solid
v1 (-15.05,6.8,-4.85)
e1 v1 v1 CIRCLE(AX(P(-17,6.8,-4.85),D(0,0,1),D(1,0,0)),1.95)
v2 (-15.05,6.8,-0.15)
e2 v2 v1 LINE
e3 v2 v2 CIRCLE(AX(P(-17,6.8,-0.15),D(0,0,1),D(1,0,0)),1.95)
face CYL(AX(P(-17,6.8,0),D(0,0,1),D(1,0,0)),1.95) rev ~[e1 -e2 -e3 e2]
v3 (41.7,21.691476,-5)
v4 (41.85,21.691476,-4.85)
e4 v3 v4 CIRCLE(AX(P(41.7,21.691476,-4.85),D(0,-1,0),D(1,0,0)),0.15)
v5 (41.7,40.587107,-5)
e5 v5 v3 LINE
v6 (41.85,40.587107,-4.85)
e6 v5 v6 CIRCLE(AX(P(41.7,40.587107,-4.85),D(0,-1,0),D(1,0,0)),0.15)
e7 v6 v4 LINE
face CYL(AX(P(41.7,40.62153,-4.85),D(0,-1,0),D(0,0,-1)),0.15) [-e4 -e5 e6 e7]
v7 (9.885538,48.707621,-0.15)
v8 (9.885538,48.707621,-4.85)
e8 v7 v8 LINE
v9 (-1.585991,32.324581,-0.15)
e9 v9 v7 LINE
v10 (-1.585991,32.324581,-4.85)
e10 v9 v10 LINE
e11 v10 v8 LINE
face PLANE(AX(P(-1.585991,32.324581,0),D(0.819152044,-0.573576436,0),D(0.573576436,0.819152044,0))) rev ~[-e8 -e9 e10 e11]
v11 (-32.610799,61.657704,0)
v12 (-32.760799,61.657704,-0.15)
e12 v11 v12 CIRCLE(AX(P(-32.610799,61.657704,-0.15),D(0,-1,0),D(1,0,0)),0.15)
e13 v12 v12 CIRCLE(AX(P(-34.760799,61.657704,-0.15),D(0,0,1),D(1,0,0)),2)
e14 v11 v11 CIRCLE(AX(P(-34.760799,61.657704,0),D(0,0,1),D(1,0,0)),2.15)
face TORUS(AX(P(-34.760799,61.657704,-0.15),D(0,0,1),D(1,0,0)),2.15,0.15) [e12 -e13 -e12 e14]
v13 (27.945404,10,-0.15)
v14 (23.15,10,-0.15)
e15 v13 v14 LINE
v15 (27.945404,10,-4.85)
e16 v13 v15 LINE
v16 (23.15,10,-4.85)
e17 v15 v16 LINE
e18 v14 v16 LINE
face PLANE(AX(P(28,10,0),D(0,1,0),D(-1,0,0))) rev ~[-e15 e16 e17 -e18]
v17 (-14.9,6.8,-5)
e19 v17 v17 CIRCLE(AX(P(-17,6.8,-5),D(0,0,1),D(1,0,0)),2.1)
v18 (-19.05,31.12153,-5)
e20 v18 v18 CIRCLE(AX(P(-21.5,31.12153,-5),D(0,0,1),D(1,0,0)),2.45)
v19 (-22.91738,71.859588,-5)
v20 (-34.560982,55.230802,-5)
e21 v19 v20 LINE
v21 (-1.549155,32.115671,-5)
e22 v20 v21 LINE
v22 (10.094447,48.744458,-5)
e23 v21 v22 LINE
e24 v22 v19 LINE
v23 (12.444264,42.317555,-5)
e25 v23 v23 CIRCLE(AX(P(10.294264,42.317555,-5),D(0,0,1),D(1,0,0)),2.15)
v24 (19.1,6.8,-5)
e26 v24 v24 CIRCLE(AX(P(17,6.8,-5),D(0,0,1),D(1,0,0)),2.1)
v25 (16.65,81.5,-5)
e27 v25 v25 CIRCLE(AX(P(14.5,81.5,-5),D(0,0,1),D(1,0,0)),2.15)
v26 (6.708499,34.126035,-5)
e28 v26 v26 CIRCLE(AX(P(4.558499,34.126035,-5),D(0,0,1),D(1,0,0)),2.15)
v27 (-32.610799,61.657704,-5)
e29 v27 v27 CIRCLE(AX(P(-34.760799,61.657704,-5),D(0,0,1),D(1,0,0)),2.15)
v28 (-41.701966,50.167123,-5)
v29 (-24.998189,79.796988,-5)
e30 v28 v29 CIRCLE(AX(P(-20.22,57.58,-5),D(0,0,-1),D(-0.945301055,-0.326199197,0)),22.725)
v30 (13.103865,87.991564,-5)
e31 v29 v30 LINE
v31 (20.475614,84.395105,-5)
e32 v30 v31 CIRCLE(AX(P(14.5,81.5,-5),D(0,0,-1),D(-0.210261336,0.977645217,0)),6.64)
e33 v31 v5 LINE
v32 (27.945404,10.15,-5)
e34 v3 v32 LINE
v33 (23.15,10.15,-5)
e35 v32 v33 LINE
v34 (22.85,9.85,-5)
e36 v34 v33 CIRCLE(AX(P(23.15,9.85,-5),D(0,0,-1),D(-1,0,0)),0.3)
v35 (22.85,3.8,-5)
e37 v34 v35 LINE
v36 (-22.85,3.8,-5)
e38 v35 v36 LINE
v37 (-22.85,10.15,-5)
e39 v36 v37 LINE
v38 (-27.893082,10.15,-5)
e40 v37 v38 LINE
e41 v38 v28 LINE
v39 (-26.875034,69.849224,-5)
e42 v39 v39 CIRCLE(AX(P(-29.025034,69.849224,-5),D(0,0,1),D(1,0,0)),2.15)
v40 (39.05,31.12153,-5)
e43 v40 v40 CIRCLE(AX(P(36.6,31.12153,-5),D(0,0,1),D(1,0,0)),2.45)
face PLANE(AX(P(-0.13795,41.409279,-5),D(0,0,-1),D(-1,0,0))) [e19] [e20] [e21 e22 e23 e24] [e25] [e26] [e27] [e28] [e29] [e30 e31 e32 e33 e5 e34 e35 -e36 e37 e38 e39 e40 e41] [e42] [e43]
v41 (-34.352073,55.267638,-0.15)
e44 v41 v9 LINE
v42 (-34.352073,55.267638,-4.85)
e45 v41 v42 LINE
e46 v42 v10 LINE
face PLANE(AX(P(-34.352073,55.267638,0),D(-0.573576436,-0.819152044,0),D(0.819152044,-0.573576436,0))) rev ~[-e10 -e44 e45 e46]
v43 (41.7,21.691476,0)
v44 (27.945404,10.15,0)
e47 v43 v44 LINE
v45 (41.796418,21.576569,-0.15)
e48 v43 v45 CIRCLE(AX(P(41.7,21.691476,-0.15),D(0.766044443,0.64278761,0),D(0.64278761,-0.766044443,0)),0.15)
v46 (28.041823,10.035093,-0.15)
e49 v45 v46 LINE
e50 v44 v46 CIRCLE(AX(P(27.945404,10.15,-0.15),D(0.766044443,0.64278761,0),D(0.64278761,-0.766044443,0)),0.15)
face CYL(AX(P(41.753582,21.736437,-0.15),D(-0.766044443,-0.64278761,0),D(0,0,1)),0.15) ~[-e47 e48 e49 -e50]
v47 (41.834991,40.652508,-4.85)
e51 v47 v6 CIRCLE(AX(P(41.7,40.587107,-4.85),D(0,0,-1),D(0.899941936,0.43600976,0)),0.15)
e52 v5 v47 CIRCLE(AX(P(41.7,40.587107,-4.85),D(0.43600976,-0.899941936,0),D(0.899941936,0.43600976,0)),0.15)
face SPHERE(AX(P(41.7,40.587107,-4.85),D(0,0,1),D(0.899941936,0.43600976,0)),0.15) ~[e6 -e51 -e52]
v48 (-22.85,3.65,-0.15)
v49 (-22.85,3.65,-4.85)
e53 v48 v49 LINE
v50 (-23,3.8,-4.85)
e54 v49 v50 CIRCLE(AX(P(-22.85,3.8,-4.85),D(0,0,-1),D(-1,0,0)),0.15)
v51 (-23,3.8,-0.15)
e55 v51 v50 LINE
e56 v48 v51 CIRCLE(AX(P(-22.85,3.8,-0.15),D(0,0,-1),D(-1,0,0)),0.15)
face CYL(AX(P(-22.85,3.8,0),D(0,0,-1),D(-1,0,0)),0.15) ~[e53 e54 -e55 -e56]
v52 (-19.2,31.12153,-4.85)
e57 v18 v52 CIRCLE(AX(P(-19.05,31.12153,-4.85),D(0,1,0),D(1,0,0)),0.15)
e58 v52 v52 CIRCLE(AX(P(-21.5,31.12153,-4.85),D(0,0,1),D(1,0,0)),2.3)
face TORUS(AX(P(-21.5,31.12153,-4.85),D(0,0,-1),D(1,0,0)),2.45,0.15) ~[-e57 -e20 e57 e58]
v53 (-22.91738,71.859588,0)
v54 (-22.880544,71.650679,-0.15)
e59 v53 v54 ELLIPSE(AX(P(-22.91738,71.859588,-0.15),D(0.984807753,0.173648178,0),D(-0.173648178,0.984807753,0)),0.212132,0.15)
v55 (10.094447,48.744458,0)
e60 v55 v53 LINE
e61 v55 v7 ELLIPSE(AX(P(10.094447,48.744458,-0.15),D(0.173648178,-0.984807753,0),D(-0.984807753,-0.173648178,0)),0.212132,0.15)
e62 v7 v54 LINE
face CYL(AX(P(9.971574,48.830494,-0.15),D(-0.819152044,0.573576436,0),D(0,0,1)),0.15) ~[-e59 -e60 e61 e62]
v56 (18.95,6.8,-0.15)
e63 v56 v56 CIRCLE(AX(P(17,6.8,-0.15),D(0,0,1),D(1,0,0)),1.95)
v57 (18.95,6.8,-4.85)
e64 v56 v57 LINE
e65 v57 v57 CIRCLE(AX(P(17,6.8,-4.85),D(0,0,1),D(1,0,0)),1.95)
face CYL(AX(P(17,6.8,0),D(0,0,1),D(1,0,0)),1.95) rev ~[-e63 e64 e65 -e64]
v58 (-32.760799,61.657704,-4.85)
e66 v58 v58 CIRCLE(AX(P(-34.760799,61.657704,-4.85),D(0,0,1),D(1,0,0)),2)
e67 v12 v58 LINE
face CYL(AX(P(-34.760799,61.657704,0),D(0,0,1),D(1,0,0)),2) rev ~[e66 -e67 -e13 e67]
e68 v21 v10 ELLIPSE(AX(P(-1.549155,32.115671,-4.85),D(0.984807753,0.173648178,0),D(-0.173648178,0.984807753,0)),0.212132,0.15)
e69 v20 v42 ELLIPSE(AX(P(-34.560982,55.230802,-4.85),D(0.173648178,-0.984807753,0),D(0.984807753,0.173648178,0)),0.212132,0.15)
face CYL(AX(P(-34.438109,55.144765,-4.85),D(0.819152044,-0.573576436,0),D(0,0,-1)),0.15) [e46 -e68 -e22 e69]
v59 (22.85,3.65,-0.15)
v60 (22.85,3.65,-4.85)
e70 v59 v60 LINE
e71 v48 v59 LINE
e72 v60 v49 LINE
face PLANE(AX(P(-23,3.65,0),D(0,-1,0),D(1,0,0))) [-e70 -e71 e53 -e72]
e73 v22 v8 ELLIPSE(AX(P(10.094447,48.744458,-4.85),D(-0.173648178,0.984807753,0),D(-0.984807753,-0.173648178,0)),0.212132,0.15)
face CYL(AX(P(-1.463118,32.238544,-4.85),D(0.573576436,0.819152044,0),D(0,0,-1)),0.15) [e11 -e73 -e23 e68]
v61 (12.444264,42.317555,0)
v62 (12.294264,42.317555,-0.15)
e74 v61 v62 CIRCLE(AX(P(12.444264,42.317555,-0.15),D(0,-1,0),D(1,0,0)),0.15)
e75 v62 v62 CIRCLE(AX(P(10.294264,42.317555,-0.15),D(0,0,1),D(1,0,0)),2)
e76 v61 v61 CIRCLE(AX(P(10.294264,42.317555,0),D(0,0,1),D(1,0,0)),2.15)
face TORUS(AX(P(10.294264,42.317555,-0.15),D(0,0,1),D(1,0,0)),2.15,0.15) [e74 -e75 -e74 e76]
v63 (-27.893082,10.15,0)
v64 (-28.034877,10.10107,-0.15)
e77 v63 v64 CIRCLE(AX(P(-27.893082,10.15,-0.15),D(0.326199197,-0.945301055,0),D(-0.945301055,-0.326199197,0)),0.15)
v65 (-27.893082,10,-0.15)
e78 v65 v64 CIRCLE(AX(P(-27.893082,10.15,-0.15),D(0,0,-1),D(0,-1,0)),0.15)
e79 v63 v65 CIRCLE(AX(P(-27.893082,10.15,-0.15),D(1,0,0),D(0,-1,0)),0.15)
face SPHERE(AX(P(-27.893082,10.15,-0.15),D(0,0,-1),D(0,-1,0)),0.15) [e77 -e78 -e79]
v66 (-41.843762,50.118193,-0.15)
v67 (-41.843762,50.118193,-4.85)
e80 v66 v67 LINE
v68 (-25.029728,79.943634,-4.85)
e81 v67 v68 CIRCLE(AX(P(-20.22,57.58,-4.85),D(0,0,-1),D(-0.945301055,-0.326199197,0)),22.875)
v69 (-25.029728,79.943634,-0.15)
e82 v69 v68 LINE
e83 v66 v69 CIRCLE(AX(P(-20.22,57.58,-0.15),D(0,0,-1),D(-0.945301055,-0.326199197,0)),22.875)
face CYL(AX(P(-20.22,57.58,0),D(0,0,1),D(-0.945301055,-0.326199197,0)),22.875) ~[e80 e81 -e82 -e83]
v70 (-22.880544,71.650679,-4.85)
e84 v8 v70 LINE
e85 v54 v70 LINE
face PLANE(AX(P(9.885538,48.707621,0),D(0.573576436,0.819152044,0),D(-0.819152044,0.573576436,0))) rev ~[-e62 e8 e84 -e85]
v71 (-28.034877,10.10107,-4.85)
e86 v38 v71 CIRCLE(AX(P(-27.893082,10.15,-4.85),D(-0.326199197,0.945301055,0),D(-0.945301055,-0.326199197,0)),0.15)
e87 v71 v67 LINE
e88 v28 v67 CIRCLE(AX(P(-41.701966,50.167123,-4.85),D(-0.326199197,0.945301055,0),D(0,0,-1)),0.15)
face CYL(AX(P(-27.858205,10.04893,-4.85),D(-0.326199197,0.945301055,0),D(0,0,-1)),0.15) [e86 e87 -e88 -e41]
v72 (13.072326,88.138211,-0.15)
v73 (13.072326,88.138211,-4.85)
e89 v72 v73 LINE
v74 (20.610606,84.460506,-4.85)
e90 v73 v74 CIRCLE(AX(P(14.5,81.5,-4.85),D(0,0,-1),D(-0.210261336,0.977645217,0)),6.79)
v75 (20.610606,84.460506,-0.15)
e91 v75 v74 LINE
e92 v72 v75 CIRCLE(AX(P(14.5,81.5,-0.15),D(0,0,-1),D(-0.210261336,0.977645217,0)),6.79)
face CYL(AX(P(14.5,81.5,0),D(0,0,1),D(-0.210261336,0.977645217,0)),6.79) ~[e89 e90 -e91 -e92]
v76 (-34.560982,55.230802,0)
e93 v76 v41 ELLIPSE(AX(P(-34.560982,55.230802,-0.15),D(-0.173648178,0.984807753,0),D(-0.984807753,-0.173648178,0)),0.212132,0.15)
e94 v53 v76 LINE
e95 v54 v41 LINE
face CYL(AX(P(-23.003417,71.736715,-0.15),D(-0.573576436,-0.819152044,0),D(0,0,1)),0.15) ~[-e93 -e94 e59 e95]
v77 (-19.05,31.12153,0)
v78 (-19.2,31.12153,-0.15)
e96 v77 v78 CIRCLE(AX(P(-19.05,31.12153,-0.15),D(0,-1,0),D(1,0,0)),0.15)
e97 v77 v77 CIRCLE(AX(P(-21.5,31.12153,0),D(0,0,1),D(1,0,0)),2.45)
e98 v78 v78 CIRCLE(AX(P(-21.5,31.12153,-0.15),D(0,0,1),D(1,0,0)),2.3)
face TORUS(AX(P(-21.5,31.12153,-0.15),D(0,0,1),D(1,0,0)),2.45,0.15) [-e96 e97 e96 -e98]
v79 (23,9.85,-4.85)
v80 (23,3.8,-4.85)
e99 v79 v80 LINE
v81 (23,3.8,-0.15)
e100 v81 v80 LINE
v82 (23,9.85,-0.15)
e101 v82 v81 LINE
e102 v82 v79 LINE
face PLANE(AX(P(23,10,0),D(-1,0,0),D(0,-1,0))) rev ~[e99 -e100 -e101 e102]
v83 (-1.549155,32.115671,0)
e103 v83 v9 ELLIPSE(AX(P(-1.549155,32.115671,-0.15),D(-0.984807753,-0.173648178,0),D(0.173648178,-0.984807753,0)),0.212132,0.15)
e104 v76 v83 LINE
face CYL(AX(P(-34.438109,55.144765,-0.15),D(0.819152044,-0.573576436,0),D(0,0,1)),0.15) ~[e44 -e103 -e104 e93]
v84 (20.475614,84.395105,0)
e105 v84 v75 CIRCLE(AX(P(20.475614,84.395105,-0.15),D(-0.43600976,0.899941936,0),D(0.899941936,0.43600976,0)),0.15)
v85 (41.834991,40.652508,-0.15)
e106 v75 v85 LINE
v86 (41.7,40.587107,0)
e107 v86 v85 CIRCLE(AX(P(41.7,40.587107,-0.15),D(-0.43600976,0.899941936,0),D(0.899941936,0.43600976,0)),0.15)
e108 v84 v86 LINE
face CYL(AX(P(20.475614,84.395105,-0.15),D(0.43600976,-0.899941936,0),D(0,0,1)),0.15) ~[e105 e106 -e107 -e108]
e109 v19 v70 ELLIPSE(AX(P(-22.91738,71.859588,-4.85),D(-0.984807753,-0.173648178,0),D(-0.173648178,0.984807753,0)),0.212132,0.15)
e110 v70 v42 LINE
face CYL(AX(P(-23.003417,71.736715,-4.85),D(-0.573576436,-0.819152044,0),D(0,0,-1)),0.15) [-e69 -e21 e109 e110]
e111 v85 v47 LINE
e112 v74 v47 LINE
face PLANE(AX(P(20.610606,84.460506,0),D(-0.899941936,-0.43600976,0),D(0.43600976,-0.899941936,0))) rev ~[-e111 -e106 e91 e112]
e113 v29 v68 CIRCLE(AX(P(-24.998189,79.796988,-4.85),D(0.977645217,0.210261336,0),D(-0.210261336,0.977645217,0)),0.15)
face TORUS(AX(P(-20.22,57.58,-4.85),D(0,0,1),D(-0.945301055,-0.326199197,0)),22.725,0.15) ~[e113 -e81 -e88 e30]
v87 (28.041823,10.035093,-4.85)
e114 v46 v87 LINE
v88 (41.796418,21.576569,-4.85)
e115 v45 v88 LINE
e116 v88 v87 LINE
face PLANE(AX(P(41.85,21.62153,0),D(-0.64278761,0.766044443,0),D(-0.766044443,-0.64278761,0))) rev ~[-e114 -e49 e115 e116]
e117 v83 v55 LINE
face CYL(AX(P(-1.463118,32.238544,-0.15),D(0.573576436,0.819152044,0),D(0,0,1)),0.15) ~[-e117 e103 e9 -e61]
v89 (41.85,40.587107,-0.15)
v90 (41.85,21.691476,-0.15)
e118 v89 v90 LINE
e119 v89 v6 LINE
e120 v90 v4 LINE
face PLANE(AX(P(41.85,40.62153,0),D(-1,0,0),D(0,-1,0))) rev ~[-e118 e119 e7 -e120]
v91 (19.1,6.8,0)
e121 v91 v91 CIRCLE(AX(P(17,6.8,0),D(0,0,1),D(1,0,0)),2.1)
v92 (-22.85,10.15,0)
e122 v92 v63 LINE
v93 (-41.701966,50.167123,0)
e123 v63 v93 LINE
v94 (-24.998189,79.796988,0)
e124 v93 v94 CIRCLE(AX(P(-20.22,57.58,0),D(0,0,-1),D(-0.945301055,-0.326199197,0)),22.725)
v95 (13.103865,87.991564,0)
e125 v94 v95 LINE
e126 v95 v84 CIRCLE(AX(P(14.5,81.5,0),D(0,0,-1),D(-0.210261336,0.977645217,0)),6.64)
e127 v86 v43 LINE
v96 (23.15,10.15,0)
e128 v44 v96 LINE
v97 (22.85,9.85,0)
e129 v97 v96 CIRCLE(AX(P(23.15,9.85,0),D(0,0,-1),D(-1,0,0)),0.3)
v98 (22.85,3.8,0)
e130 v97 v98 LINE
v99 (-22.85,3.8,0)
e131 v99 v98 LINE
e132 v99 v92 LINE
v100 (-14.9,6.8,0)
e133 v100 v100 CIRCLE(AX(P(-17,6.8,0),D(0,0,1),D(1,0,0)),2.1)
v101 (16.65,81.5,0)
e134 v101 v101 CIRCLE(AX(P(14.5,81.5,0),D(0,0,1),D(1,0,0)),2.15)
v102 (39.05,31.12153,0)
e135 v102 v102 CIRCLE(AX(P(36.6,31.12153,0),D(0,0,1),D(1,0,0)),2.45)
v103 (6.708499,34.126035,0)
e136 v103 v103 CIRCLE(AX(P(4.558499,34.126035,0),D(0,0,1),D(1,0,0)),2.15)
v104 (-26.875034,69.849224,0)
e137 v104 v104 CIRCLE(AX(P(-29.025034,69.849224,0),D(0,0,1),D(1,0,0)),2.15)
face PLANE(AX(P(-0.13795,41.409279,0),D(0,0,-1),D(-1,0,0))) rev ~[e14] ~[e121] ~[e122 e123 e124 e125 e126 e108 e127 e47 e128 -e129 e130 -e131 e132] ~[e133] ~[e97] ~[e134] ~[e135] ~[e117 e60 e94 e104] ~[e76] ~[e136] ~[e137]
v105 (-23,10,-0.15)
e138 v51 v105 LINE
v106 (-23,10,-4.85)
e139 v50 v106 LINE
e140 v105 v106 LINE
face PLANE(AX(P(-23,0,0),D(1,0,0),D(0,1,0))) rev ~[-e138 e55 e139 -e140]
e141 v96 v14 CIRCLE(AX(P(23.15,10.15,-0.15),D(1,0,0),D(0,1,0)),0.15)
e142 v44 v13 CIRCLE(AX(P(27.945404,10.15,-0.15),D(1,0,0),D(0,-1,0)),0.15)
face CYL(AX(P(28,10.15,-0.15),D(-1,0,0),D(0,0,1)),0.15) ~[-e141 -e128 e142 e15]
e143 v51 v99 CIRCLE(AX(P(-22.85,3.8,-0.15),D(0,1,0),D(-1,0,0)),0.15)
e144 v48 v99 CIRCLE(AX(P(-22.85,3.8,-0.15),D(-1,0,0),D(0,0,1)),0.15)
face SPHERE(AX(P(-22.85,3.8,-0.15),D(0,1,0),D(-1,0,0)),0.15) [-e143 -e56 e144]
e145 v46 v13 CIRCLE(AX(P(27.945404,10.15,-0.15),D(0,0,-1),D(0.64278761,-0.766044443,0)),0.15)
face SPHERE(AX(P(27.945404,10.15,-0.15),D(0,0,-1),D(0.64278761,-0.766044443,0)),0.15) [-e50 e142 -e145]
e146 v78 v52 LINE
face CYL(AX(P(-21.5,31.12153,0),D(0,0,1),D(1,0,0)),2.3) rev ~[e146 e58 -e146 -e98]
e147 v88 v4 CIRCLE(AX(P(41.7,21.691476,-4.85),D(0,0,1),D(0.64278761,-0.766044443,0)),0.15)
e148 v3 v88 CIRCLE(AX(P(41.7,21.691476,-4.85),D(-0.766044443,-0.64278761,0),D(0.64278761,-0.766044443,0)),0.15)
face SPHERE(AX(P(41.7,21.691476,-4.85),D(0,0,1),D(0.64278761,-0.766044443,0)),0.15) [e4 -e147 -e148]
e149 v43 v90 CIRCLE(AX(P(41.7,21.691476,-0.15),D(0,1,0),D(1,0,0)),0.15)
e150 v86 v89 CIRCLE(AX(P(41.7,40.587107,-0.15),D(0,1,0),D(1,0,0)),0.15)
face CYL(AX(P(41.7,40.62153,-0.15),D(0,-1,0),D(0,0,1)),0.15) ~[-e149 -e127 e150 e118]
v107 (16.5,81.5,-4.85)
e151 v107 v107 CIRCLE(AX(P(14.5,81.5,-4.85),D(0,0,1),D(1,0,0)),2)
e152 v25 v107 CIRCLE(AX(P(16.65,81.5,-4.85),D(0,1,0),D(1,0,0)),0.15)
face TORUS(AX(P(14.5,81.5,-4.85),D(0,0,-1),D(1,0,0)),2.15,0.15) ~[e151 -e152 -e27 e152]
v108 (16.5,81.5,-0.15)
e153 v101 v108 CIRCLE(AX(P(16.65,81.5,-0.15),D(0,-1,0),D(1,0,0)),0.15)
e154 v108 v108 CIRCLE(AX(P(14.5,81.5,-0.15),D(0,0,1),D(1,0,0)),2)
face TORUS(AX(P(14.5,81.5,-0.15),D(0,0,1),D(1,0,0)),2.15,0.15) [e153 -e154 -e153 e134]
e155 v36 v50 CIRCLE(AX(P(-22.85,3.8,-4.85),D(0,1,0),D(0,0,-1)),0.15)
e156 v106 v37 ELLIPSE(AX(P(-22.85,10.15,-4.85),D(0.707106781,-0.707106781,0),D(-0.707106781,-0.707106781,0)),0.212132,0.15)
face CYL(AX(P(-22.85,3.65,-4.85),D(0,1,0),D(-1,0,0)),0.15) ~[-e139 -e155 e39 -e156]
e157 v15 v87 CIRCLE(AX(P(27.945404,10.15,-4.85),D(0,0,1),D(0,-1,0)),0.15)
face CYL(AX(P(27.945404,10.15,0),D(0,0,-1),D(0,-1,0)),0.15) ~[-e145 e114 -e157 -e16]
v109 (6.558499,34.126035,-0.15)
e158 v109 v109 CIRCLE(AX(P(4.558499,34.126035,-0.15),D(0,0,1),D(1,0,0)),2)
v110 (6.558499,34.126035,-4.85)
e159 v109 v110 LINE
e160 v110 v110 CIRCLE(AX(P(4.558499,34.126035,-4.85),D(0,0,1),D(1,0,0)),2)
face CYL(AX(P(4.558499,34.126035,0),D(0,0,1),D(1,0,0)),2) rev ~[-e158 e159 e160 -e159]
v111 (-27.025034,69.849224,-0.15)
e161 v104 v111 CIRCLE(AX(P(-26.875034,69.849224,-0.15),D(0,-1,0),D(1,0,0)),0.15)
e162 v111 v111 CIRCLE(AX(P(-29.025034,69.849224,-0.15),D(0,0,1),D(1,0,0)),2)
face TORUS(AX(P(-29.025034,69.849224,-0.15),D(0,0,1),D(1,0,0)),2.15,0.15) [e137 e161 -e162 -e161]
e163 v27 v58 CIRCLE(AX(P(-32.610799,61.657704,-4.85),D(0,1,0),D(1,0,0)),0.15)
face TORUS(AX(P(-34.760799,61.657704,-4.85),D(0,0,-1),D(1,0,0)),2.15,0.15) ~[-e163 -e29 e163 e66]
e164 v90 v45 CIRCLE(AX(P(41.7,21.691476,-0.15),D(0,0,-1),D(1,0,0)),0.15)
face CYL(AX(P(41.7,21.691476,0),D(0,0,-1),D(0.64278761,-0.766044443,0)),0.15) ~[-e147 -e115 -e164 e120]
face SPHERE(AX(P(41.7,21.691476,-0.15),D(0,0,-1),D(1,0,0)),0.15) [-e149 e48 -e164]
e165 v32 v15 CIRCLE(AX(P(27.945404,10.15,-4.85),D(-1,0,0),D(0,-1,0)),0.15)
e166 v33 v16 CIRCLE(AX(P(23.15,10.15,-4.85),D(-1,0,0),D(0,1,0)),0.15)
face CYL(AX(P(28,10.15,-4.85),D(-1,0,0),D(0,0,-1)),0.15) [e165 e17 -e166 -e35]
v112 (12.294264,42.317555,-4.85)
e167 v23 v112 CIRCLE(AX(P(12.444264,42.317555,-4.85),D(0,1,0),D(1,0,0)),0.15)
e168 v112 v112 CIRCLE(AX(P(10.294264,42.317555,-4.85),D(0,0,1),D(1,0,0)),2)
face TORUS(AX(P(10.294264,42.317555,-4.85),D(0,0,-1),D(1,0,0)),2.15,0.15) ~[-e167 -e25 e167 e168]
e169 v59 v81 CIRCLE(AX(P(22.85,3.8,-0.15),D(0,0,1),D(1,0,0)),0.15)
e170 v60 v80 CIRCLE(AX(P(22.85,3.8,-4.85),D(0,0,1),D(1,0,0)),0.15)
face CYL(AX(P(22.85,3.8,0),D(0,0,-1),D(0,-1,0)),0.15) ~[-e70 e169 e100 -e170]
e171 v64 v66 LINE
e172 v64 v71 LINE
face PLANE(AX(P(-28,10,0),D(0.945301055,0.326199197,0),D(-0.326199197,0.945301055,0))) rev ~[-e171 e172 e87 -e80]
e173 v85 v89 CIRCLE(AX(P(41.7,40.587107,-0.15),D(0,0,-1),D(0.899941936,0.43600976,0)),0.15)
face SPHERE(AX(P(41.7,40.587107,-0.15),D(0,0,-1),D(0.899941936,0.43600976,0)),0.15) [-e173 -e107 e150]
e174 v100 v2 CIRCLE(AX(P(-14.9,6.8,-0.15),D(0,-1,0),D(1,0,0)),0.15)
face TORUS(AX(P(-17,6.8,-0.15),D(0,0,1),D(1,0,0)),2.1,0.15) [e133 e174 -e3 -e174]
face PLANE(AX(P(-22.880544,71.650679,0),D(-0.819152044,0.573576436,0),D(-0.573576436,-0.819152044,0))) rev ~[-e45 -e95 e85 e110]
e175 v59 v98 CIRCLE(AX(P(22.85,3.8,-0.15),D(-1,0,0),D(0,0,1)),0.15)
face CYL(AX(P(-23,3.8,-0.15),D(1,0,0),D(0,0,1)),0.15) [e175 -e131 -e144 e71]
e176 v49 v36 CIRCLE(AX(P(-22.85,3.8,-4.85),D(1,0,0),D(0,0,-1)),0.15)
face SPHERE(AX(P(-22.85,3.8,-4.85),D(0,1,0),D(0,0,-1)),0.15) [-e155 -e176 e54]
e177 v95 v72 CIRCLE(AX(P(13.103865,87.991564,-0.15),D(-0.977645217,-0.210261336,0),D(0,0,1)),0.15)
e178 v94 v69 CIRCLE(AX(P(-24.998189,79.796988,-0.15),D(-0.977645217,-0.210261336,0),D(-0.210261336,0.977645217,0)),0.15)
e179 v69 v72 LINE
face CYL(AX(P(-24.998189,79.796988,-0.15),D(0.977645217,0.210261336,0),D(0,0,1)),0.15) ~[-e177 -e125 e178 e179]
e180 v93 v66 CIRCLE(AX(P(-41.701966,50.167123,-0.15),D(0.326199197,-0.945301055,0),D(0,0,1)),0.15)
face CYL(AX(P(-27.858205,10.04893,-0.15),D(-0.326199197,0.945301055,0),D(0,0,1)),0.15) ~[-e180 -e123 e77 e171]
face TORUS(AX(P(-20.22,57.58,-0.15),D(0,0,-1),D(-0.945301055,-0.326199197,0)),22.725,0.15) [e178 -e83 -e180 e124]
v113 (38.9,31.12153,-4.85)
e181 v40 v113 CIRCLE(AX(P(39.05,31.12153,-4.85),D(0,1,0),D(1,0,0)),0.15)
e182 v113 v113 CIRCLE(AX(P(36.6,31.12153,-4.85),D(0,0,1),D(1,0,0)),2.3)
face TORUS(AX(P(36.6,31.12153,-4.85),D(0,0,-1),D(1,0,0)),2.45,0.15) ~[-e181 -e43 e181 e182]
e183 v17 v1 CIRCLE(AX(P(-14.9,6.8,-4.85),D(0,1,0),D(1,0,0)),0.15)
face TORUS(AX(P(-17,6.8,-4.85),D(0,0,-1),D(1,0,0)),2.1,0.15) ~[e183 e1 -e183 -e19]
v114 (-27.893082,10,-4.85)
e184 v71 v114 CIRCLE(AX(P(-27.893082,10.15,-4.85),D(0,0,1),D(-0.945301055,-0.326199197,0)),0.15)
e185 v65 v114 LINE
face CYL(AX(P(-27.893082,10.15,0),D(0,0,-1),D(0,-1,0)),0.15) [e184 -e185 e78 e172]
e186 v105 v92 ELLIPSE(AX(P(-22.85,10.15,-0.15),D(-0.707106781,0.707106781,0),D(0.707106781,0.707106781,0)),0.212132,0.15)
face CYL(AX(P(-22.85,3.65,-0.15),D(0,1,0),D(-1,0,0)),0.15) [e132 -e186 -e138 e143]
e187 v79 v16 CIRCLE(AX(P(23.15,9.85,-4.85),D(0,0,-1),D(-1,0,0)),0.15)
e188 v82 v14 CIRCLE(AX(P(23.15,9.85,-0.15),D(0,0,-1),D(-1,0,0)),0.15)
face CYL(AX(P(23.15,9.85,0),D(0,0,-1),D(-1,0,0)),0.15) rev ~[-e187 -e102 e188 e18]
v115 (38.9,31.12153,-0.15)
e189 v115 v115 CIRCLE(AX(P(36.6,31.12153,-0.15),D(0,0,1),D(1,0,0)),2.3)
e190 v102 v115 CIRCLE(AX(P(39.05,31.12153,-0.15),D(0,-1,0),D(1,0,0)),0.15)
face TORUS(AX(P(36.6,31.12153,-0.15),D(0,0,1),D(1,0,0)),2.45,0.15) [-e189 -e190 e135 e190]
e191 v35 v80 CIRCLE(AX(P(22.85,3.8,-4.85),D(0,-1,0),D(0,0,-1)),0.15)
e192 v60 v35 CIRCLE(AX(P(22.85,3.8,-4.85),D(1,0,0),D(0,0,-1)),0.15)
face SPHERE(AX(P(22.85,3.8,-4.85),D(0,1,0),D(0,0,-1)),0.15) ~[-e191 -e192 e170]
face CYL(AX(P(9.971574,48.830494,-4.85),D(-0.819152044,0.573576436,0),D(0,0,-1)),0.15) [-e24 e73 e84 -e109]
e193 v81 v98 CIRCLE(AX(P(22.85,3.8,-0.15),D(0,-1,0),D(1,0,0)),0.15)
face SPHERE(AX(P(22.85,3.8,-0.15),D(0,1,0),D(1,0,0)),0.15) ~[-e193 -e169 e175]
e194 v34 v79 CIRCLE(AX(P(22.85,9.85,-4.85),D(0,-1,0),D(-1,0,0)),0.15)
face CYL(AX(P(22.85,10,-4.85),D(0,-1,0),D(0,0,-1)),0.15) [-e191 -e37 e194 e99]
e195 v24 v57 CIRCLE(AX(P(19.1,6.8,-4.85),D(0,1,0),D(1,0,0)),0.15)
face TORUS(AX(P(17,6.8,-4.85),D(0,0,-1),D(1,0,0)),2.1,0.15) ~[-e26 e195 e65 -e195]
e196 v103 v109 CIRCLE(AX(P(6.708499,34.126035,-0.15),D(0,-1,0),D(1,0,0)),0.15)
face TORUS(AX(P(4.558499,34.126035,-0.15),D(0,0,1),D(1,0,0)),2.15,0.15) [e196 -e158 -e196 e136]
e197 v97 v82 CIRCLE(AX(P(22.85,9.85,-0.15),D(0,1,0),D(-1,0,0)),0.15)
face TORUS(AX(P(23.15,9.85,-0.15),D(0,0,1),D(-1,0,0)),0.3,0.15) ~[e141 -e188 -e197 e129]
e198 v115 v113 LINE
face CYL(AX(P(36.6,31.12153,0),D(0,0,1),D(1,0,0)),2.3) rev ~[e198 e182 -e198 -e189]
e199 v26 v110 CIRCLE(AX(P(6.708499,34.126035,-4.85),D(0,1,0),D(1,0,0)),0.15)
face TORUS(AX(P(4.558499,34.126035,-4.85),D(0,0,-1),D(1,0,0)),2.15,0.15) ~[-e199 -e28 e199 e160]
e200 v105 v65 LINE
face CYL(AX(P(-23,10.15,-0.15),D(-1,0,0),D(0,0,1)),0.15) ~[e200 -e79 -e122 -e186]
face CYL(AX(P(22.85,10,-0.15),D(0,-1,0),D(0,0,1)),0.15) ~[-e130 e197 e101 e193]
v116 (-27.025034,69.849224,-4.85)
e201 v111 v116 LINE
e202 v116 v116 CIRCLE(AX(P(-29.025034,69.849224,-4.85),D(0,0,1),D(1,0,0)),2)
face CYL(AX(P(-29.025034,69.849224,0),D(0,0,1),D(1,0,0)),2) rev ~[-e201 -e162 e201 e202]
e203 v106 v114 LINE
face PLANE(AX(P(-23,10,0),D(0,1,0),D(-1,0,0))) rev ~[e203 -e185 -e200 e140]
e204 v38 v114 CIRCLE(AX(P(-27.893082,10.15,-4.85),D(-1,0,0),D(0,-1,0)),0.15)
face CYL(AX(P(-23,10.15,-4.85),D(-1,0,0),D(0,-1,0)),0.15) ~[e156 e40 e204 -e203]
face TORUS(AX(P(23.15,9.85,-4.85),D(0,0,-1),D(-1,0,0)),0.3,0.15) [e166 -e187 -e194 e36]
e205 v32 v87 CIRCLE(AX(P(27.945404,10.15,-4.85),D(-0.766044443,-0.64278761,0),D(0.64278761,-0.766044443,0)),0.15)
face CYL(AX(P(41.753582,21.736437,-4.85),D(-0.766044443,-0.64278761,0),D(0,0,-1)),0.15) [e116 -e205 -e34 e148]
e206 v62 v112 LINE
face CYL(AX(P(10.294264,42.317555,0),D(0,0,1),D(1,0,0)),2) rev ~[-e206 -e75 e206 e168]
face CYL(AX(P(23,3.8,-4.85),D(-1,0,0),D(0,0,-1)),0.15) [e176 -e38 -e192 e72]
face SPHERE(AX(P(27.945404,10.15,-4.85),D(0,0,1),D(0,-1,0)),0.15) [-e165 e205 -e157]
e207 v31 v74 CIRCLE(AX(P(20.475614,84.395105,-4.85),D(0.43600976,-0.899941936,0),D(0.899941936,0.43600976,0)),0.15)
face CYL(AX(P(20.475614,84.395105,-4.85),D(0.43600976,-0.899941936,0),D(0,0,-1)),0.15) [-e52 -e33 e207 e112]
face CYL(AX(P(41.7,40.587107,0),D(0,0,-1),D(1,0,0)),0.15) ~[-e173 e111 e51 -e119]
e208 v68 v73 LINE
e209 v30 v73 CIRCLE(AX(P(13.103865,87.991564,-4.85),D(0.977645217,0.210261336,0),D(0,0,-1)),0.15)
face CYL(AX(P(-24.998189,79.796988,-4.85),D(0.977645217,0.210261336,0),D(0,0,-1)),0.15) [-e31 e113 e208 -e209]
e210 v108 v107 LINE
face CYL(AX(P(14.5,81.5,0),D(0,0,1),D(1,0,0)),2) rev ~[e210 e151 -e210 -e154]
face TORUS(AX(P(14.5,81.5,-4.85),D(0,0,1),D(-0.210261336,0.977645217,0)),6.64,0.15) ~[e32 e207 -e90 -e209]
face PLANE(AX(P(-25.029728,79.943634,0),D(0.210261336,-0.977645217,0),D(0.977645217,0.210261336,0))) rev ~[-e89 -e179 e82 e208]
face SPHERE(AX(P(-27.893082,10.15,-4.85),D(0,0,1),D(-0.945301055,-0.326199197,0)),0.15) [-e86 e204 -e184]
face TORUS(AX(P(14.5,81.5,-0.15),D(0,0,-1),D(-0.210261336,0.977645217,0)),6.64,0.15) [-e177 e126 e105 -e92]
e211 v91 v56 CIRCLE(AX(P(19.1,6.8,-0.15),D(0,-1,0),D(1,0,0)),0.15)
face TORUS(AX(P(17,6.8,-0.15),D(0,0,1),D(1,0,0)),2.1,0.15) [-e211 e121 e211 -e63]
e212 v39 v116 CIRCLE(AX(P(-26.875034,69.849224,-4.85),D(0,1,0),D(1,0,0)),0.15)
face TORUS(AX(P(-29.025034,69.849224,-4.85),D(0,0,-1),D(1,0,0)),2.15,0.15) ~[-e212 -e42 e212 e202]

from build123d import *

# Parameters (mm, degrees)
SKETCH2_R           = 2
SKETCH2_R_2         = 2.3
SKETCH2_R_3         = 1.95
BOSS_EXTRUDE2_DEPTH = 5
SKETCH4_W           = 46
SKETCH4_H           = 3.65
CUT_EXTRUDE1_DEPTH  = 6
FILLET1_R           = 0.15


with BuildPart() as part:
    # Sketch2 → Boss-Extrude2 (new body)
    with BuildSketch(Plane.XY):
        with BuildLine():
            Line((-23, 0), (-23, 10))
            Line((-23, 10), (-28, 10))
            Line((-28, 10), (-41.843761624, 50.118193368))
            ThreePointArc((-41.843761624, 50.118193368), (-40.146654928, 68.813612437), (-25.029728066, 79.943634341))
            Line((-25.029728066, 79.943634341), (13.072325527, 88.138211024))
            ThreePointArc((13.072325527, 88.138211024), (17.477220077, 87.602479874), (20.610605748, 84.460506273))
            Line((20.610605748, 84.460506273), (41.85, 40.621529892))
            Line((41.85, 40.621529892), (41.85, 21.621529892))
            Line((41.85, 21.621529892), (28, 10))
            Line((28, 10), (23, 10))
            Line((23, 10), (23, 0))
            Line((23, 0), (-23, 0))
        make_face()
        with Locations((-29.025034449, 69.849224439)):
            Circle(SKETCH2_R, mode=Mode.SUBTRACT)
        with Locations((-34.760798813, 61.657703997)):
            Circle(SKETCH2_R, mode=Mode.SUBTRACT)
        with Locations((10.294263677, 42.317555495)):
            Circle(SKETCH2_R, mode=Mode.SUBTRACT)
        with Locations((4.558499313, 34.126035052)):
            Circle(SKETCH2_R, mode=Mode.SUBTRACT)
        with Locations((14.5, 81.5)):
            Circle(SKETCH2_R, mode=Mode.SUBTRACT)
        with Locations((36.6, 31.121529892)):
            Circle(SKETCH2_R_2, mode=Mode.SUBTRACT)
        with Locations((17, 6.8)):
            Circle(SKETCH2_R_3, mode=Mode.SUBTRACT)
        with Locations((-17, 6.8)):
            Circle(SKETCH2_R_3, mode=Mode.SUBTRACT)
        with Locations((-21.5, 31.121529892)):
            Circle(SKETCH2_R_2, mode=Mode.SUBTRACT)
        Polygon((-22.88054409, 71.650678915), (-34.352072817, 55.26763803), (-1.585991046, 32.324580576), (9.885537681, 48.707621461), align=None, mode=Mode.SUBTRACT)
    extrude(amount=-BOSS_EXTRUDE2_DEPTH)

    # Sketch4 → Cut-Extrude1 (cut, through all)
    with BuildSketch(Plane.XY):
        with Locations((0, 1.825)):
            Rectangle(SKETCH4_W, SKETCH4_H)
    extrude(amount=-CUT_EXTRUDE1_DEPTH, mode=Mode.SUBTRACT)

    # Fillet1
    fillet1_edges = [part.edges().sort_by_distance(p)[0] for p in [
        (-23, 6.825, 0),
        (-25.5, 10, 0),
        (25.5, 10, -5),
        (-34.921880812, 30.059096684, 0),
        (-40.146654928, 68.813612437, 0),
        (-5.978701269, 84.040922682, 0),
        (17.477220077, 87.602479874, 0),
        (31.230302874, 62.541018083, 0),
        (41.85, 31.121529892, 0),
        (34.925, 15.810764946, 0),
        (25.5, 10, 0),
        (34.925, 15.810764946, -5),
        (-28, 10, -2.5),
        (41.85, 31.121529892, -5),
        (41.85, 40.621529892, -2.5),
        (41.85, 21.621529892, -2.5),
        (28, 10, -2.5),
        (23, 10, -2.5),
        (31.230302874, 62.541018083, -5),
        (17.477220077, 87.602479874, -5),
        (-5.978701269, 84.040922682, -5),
        (-6.497503205, 60.179150188, -5),
        (4.149773318, 40.516101019, -5),
        (-17.969031932, 43.796109303, -5),
        (-28.616308454, 63.459158473, -5),
        (-6.497503205, 60.179150188, 0),
        (-28.616308454, 63.459158473, 0),
        (-17.969031932, 43.796109303, 0),
        (4.149773318, 40.516101019, 0),
        (-40.146654928, 68.813612437, -5),
        (-34.921880812, 30.059096684, -5),
        (-31.025034449, 69.849224439, -5),
        (-31.025034449, 69.849224439, 0),
        (-25.5, 10, -5),
        (-36.760798813, 61.657703997, -5),
        (-36.760798813, 61.657703997, 0),
        (-23, 6.825, -5),
        (8.294263677, 42.317555495, -5),
        (8.294263677, 42.317555495, 0),
        (2.558499313, 34.126035052, -5),
        (2.558499313, 34.126035052, 0),
        (12.5, 81.5, -5),
        (12.5, 81.5, 0),
        (34.3, 31.121529892, -5),
        (34.3, 31.121529892, 0),
        (15.05, 6.8, -5),
        (15.05, 6.8, 0),
        (-18.95, 6.8, -5),
        (-18.95, 6.8, 0),
        (-23.8, 31.121529892, -5),
        (-23.8, 31.121529892, 0),
        (23, 6.825, 0),
        (23, 6.825, -5),
        (0, 3.65, -5),
        (-23, 3.65, -2.5),
        (23, 3.65, -2.5),
        (0, 3.65, 0),
    ]]
    fillet(fillet1_edges, radius=FILLET1_R)


solid = part.part
